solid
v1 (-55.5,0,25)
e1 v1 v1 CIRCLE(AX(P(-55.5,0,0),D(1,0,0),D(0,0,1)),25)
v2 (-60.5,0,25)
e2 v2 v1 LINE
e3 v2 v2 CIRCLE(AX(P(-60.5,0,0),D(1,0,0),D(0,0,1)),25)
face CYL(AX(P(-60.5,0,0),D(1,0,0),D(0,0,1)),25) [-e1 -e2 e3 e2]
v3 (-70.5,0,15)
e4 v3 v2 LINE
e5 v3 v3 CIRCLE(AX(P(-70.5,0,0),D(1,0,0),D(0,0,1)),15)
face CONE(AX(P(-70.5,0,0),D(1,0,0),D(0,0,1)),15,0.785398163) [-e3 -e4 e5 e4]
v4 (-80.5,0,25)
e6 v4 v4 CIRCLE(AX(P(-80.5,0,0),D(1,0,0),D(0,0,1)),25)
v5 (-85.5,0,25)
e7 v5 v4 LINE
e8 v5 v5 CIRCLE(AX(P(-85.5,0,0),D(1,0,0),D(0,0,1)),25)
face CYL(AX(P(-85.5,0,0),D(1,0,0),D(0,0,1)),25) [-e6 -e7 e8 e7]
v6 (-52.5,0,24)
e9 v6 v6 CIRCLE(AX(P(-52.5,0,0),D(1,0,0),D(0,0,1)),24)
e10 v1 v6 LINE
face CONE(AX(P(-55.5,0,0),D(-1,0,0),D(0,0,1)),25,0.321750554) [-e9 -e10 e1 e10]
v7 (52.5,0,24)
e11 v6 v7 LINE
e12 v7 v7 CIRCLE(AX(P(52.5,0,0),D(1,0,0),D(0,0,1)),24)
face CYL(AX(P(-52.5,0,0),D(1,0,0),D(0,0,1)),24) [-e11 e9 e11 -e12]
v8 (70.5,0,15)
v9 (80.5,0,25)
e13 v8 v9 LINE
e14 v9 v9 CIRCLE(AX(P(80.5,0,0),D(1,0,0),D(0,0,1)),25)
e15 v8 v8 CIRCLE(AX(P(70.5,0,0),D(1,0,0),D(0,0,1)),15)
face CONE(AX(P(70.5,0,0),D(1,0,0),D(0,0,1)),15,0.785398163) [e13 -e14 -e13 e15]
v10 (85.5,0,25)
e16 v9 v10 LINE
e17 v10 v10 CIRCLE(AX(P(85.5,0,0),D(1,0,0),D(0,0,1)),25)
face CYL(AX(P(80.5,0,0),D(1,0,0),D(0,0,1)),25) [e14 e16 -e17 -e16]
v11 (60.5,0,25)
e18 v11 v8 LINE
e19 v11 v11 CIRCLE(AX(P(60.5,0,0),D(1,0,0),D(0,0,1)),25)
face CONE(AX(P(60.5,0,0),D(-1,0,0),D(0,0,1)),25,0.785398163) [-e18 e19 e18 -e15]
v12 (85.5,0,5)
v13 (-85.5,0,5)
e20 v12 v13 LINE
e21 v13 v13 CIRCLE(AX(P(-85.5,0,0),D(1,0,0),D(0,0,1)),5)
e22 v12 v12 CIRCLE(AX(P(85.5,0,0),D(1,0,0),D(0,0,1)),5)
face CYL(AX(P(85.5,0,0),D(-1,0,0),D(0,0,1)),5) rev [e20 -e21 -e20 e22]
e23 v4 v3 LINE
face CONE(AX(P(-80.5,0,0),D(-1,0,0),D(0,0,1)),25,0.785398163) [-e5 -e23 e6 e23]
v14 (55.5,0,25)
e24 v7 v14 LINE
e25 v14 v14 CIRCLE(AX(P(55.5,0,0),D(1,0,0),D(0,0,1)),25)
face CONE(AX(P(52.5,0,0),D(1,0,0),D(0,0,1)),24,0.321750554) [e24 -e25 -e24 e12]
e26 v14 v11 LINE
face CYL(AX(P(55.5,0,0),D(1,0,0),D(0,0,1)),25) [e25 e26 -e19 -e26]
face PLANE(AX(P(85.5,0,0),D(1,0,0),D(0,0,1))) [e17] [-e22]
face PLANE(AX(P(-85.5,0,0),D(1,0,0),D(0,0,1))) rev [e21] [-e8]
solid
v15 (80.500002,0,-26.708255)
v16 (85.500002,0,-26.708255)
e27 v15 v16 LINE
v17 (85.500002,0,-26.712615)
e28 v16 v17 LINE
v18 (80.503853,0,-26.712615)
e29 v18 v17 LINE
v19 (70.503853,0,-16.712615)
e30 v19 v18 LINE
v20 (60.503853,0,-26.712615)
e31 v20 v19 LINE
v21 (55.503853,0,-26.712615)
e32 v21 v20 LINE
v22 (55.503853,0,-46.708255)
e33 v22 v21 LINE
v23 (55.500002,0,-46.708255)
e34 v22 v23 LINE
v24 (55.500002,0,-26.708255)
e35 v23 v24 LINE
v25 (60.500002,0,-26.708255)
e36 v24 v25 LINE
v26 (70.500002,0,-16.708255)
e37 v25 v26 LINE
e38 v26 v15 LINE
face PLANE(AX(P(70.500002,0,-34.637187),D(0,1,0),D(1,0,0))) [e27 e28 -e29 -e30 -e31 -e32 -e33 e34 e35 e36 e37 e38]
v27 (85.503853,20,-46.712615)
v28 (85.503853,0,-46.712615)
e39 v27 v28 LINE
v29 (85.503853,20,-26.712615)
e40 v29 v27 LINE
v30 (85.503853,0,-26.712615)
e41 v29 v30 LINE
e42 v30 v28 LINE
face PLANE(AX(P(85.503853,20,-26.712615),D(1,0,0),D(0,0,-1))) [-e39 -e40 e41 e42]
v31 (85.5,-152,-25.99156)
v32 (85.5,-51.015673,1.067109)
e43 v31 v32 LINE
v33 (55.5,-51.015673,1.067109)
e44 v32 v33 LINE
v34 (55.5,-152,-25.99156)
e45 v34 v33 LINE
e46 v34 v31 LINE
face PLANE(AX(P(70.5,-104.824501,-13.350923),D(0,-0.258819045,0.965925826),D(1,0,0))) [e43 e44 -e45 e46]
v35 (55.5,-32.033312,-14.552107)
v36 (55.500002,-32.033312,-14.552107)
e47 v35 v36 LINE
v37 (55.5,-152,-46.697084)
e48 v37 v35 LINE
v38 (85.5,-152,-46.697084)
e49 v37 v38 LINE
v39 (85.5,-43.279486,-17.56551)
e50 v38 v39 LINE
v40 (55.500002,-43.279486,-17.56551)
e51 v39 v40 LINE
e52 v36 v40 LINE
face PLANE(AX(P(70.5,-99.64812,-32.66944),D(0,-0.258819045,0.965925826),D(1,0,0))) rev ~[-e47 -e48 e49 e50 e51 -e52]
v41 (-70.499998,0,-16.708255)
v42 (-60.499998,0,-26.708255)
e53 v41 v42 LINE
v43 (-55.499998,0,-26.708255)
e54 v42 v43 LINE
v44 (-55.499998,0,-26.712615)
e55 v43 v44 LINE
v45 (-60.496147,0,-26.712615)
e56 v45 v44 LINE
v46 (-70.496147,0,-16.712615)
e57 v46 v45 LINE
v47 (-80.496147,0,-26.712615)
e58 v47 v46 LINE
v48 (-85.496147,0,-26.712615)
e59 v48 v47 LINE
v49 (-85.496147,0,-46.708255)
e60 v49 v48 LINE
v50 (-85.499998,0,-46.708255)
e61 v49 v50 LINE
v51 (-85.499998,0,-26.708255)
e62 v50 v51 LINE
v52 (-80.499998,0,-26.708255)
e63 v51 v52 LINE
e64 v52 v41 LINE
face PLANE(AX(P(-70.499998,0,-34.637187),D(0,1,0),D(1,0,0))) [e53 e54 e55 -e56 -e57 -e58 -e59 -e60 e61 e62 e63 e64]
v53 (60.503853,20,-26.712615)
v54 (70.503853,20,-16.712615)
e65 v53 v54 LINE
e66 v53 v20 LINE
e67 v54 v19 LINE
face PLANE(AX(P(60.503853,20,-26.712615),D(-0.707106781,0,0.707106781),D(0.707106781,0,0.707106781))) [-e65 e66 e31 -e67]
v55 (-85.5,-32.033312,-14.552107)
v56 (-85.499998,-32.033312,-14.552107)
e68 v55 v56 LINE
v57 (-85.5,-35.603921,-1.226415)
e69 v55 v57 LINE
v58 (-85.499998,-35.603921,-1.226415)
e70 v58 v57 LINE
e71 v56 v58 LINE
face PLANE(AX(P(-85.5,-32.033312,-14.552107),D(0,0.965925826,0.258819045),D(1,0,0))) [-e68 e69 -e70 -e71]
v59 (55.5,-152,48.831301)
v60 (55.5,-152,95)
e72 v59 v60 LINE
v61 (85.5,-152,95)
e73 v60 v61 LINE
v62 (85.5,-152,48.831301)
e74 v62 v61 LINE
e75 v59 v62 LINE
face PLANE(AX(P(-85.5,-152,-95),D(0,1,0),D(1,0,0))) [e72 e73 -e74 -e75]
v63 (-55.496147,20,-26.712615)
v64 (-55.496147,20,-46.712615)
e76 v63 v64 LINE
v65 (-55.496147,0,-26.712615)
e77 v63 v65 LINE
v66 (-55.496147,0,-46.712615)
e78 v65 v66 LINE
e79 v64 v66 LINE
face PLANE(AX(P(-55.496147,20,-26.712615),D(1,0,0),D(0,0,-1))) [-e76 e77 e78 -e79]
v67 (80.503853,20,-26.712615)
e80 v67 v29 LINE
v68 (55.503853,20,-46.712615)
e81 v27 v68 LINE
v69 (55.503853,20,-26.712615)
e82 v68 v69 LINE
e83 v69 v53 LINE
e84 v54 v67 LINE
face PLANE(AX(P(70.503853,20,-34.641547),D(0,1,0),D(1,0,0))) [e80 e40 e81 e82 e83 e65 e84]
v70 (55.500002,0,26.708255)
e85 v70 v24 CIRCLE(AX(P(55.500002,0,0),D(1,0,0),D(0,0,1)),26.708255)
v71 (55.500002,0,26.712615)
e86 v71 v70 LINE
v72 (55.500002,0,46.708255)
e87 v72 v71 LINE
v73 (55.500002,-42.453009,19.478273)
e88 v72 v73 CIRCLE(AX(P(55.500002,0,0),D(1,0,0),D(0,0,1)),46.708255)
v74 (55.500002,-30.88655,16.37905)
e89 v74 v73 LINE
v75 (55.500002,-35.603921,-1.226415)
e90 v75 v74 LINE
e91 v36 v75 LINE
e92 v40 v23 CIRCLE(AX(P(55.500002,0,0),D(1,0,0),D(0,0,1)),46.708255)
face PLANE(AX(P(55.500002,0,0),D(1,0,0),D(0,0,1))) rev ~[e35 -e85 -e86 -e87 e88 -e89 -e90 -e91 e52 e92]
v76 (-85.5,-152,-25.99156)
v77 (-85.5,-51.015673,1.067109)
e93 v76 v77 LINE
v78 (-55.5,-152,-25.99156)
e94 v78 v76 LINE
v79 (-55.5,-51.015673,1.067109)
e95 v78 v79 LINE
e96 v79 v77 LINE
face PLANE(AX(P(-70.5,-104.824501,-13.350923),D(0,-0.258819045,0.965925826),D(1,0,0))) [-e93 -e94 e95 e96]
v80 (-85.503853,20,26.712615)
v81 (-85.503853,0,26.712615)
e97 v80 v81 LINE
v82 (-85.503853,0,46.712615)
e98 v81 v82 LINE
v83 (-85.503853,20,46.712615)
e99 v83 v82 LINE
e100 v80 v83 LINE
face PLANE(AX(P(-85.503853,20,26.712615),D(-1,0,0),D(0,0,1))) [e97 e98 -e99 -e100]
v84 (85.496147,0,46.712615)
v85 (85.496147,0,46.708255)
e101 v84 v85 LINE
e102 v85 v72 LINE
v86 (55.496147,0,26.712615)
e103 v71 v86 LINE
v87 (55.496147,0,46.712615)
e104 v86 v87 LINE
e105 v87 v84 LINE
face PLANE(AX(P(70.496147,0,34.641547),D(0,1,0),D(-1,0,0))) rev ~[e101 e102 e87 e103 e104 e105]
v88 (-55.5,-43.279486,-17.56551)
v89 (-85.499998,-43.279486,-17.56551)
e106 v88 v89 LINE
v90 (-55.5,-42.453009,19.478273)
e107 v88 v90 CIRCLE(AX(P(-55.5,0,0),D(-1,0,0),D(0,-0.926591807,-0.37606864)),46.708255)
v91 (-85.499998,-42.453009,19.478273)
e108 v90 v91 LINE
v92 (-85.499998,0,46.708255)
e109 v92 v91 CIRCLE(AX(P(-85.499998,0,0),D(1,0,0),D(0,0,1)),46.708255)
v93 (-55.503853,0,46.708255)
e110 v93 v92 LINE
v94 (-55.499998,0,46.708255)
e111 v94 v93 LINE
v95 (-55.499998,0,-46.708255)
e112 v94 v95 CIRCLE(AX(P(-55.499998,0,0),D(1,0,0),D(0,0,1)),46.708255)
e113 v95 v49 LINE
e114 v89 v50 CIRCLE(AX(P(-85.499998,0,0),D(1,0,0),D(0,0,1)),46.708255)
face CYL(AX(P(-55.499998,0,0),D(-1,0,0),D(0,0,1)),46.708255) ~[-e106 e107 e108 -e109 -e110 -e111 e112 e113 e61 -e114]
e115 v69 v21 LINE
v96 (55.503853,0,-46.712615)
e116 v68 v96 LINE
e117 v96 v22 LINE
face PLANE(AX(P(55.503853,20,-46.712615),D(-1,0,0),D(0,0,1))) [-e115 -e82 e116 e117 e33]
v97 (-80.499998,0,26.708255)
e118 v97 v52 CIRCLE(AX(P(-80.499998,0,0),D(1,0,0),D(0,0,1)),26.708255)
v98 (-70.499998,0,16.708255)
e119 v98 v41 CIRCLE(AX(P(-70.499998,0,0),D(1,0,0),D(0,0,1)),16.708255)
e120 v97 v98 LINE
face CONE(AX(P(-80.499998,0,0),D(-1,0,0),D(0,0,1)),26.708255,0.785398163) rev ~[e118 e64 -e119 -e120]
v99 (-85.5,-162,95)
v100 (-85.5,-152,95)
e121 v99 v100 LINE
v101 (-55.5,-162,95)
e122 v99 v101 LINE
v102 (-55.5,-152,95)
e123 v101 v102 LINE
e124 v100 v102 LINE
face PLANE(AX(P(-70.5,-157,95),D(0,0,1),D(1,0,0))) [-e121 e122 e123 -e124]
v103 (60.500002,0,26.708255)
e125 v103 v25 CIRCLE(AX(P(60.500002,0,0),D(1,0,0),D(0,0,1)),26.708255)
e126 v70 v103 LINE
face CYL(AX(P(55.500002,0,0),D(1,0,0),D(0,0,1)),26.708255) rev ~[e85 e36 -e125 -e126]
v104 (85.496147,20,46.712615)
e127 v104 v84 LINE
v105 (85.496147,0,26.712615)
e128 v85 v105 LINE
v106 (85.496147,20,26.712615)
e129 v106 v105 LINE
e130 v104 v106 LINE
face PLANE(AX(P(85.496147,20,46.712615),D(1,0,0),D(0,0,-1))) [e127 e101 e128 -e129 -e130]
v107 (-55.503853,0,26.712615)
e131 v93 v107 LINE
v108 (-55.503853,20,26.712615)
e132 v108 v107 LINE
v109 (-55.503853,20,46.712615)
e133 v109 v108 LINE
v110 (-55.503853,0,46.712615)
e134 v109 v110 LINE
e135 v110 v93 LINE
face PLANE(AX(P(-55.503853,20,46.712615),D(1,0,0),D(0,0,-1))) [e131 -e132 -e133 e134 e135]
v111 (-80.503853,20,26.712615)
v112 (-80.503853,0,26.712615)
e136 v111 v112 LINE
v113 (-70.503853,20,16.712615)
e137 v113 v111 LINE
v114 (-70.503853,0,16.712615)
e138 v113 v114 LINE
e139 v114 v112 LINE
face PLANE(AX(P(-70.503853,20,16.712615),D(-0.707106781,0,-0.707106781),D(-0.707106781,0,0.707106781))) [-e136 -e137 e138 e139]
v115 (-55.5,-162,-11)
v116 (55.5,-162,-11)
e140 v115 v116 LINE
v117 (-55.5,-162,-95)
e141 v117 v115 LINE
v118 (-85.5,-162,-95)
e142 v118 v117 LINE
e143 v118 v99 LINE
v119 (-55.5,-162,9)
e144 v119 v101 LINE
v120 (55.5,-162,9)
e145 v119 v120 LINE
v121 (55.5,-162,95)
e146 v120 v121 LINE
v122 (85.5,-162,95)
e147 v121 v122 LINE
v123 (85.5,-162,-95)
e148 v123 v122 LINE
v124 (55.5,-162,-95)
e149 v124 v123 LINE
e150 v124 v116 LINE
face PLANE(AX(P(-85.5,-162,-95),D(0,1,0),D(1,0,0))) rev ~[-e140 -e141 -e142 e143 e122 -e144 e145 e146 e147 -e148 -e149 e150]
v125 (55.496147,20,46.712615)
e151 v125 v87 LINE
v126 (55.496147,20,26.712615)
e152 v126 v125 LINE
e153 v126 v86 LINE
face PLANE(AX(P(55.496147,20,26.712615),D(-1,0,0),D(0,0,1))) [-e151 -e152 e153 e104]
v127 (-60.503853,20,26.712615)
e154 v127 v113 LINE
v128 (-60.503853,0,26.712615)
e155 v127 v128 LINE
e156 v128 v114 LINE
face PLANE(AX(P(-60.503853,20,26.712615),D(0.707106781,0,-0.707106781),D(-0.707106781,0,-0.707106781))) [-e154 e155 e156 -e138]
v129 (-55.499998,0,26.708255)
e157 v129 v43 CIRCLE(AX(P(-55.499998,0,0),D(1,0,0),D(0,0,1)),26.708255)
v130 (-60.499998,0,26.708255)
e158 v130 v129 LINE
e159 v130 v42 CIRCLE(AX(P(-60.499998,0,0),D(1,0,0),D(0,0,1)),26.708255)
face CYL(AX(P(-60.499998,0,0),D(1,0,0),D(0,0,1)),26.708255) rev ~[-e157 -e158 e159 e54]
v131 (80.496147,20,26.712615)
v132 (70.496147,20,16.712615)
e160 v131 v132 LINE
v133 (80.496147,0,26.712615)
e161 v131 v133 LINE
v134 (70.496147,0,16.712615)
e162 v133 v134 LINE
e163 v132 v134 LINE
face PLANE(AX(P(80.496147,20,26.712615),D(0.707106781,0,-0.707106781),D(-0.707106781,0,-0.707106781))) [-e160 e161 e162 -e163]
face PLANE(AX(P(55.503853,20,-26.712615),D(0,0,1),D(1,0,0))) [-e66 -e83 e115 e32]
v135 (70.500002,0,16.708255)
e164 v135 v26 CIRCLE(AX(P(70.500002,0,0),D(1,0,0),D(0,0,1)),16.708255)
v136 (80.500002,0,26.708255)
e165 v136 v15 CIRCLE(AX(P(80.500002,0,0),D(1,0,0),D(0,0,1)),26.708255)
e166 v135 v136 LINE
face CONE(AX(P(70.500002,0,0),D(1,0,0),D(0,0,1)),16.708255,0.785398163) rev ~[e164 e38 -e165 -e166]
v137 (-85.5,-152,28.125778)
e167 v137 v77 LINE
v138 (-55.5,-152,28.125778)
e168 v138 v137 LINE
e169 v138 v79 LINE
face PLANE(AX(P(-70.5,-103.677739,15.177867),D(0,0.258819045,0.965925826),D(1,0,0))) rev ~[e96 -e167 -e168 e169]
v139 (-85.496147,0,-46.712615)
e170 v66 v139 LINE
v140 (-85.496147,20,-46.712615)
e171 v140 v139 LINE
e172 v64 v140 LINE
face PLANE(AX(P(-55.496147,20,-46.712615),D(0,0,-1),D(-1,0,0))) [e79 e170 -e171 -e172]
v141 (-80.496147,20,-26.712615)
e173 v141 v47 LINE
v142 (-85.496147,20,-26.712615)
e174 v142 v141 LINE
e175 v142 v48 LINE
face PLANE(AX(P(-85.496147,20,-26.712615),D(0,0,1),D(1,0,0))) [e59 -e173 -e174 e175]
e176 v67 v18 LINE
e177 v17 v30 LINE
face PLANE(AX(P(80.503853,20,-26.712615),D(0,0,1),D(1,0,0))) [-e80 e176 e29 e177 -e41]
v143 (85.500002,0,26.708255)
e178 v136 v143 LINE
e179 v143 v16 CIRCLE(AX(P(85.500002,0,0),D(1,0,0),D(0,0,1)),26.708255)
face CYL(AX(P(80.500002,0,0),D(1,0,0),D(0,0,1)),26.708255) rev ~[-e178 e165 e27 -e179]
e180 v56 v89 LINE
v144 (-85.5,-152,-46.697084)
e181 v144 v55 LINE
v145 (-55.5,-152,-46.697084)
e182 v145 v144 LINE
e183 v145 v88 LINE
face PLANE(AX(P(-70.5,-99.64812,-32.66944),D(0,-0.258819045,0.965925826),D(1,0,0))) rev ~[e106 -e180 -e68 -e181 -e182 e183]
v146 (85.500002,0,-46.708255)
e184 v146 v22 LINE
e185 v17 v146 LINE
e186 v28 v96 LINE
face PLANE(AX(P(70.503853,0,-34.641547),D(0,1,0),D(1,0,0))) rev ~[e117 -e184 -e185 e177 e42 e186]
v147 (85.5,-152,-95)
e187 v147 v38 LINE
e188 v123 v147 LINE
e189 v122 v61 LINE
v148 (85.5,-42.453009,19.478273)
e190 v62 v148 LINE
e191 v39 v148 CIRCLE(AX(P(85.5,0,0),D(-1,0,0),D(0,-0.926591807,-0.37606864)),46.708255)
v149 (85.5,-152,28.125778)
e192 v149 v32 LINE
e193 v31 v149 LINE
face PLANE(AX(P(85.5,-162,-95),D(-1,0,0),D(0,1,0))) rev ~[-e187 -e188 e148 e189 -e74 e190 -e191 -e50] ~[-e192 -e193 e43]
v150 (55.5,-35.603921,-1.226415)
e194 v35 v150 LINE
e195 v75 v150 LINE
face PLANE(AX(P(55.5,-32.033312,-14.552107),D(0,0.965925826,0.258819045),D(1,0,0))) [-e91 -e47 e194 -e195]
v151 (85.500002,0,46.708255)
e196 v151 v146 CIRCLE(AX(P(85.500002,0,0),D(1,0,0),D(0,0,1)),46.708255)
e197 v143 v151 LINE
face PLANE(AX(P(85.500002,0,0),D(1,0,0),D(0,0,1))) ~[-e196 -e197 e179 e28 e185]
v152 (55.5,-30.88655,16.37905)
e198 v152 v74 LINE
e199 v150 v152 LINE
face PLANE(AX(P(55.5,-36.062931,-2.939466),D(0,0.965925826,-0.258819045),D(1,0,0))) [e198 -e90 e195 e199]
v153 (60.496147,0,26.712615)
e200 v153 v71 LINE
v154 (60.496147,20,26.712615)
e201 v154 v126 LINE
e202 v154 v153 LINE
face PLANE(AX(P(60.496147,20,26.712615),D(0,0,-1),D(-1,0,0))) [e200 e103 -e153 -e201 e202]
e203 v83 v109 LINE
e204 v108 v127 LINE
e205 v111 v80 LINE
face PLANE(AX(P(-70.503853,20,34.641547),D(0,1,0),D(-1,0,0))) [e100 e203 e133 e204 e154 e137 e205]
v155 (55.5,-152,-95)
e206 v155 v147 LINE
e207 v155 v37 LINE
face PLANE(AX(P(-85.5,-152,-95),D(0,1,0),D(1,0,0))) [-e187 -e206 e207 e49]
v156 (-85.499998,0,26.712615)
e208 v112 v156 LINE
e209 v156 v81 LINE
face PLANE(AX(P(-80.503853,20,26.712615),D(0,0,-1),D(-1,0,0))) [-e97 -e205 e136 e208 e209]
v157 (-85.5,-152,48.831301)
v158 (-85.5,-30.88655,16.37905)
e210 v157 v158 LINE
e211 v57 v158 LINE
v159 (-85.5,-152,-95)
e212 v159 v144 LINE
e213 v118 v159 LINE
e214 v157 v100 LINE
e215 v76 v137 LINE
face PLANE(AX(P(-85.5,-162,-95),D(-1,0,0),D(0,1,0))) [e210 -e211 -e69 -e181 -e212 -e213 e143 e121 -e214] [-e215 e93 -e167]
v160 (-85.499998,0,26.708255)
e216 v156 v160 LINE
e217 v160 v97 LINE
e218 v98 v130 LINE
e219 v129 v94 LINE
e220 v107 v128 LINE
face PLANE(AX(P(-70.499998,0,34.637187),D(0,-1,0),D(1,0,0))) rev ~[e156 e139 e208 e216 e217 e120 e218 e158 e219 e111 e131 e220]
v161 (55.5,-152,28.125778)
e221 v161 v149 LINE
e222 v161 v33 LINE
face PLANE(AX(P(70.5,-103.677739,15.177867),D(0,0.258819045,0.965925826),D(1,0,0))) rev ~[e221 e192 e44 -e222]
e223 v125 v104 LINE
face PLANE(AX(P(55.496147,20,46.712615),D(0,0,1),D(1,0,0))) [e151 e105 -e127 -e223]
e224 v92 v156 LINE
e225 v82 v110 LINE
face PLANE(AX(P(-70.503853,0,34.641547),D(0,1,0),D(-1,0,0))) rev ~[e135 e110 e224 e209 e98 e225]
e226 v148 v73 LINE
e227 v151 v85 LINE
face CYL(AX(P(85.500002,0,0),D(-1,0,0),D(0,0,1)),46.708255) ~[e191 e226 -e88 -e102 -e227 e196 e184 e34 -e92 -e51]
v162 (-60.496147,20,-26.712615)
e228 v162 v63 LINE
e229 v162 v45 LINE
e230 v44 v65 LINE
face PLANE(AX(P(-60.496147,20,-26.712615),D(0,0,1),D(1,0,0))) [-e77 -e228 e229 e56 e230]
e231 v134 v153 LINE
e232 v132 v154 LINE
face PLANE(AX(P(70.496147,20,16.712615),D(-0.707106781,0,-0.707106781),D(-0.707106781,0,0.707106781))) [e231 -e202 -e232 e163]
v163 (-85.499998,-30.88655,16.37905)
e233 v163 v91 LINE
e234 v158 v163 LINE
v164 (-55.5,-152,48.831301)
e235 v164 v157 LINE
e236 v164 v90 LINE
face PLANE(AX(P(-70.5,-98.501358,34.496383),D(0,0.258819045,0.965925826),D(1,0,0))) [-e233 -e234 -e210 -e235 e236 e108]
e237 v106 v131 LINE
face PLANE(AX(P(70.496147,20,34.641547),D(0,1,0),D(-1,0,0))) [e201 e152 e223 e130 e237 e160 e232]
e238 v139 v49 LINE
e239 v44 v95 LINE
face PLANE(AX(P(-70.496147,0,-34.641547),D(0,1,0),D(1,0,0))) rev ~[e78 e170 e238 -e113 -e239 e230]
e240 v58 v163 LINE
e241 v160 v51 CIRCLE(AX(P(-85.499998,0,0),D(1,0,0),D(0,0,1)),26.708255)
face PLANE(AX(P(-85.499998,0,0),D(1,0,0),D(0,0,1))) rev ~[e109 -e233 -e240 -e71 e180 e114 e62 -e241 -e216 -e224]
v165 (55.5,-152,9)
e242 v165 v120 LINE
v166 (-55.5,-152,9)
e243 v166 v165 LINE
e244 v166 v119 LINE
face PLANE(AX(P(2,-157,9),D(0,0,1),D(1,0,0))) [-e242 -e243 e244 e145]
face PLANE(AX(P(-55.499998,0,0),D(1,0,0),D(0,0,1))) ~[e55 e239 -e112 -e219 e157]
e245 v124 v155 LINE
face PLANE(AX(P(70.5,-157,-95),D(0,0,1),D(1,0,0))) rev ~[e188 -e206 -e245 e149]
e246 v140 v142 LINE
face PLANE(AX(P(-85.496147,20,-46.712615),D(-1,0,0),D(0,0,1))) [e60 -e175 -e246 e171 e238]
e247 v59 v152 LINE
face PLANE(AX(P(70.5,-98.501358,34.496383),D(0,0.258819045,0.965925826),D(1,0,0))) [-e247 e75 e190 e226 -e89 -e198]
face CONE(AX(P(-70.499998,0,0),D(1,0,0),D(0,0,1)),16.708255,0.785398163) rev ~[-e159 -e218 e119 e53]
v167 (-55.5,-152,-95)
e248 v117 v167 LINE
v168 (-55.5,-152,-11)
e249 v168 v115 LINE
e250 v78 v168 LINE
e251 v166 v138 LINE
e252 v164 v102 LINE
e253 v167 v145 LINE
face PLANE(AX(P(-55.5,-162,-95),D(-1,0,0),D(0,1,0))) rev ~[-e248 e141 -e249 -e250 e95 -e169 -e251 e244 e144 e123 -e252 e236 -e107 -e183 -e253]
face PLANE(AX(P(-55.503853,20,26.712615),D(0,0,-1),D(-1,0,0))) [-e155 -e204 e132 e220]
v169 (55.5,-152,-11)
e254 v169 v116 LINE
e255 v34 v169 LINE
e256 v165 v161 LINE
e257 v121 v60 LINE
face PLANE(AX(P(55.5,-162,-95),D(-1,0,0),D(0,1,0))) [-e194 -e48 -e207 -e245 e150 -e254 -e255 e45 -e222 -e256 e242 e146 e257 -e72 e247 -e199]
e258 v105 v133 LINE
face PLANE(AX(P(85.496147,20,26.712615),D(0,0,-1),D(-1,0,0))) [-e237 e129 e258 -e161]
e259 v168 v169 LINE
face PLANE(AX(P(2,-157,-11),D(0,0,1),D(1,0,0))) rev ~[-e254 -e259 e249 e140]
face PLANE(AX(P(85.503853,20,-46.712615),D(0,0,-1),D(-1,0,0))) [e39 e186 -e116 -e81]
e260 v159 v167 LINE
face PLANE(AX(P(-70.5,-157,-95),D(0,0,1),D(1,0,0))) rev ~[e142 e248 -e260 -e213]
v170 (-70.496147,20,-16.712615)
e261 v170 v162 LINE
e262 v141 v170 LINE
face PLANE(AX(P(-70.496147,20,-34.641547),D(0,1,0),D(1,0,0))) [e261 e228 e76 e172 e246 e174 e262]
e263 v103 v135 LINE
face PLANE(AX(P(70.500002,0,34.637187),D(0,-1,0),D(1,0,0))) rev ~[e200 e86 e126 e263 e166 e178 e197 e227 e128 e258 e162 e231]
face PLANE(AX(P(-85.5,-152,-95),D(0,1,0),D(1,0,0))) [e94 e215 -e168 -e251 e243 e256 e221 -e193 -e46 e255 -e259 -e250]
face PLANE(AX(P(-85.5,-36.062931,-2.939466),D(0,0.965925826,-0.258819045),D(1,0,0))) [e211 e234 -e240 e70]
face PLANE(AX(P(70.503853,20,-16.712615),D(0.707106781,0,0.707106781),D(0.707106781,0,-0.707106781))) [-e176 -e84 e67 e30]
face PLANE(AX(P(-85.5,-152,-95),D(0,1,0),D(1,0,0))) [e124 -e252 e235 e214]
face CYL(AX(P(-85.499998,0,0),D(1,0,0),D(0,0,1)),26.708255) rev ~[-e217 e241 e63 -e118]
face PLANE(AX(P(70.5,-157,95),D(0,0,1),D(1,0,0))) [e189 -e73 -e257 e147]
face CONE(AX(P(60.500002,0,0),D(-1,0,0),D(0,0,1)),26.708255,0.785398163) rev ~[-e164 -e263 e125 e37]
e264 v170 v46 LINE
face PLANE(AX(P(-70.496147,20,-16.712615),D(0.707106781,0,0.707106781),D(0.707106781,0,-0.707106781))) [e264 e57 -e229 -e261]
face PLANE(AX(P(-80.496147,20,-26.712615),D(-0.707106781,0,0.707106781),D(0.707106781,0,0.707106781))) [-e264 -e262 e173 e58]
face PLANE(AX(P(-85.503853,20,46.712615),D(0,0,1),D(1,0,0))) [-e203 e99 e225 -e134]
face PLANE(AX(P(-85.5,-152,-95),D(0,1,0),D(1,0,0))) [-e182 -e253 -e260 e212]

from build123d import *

# Parameters (mm, degrees)
BOX009_W                = 30
BOX009_H                = 10
BOX009_DEPTH            = 190
BOX004_W                = 30
BOX004_H                = 10
BOX004_DEPTH            = 190
BOX011_W                = 130
BOX011_H                = 10
BOX011_DEPTH            = 20
BOX018_W                = 40
BOX018_H                = 20
BOX018_DEPTH            = 220
BOX017_W                = 30
BOX017_H                = 140
BOX017_DEPTH            = 20
BOX017_PLACEMENT_ANGLE  = 15
BOX016_W                = 30
BOX016_H                = 140
BOX016_DEPTH            = 20
BOX016_PLACEMENT_ANGLE  = 15
PAD006_DEPTH            = 20
BODY011_PLACEMENT_ANGLE = 180
REVOLUTION004_ANGLE     = 180
PAD007_DEPTH            = 20
BOX015_W                = 40
BOX015_H                = 20
BOX015_DEPTH            = 220
BOX014_W                = 30
BOX014_H                = 140
BOX014_DEPTH            = 20
BOX014_PLACEMENT_ANGLE  = 15
BOX013_W                = 30
BOX013_H                = 140
BOX013_DEPTH            = 20
BOX013_PLACEMENT_ANGLE  = 15
PAD004_DEPTH            = 20
BODY008_PLACEMENT_ANGLE = 180
REVOLUTION003_ANGLE     = 180
PAD005_DEPTH            = 20


with BuildPart() as inner:
    # Sketch → Revolution (revolve)
    with BuildSketch(Plane.XZ):
        Polygon((-52.5, 24), (52.5, 24), (55.5, 25), (60.5, 25), (70.5, 15), (80.5, 25), (85.5, 25), (85.5, 5), (-85.5, 5), (-85.5, 25), (-80.5, 25), (-70.5, 15), (-60.5, 25), (-55.5, 25), align=None)
    revolve(axis=Axis((0, 0, 0), (1, 0, 0)))


with BuildPart() as cube009:
    # Box009 → Box009 (new body)
    with BuildSketch(Plane(origin=(55.5, -173, -95), x_dir=(1, 0, 0), z_dir=(0, 0, 1))):
        with Locations((15, 5)):
            Rectangle(BOX009_W, BOX009_H)
    extrude(amount=BOX009_DEPTH)


with BuildPart() as cube004:
    # Box004 → Box004 (new body)
    with BuildSketch(Plane(origin=(-85.5, -173, -95), x_dir=(1, 0, 0), z_dir=(0, 0, 1))):
        with Locations((15, 5)):
            Rectangle(BOX004_W, BOX004_H)
    extrude(amount=BOX004_DEPTH)


with BuildPart() as fusion:
    # Box011 → Box011 (new body)
    with BuildSketch(Plane(origin=(-63, -173, -11), x_dir=(1, 0, 0), z_dir=(0, 0, 1))):
        with Locations((65, 5)):
            Rectangle(BOX011_W, BOX011_H)
    extrude(amount=BOX011_DEPTH)

    # Fusion: union Cube009, Cube004
    add(cube009.part)
    add(cube004.part)


with BuildPart() as fusion_1:
    # Fusion placement: moved
    add(fusion.part.moved(Location((0, 11, 0))))


with BuildPart() as cube018:
    # Box018 → Box018 (new body)
    with BuildSketch(Plane(origin=(-94, -173, -109), x_dir=(1, 0, 0), z_dir=(0, 0, 1))):
        with Locations((20, 10)):
            Rectangle(BOX018_W, BOX018_H)
    extrude(amount=BOX018_DEPTH)


with BuildPart() as cube017:
    # Box017 → Box017 (new body)
    with BuildSketch(Plane.XY):
        with Locations((15, 70)):
            Rectangle(BOX017_W, BOX017_H)
    extrude(amount=BOX017_DEPTH)


with BuildPart() as cube017_1:
    # Box017 placement: moved
    add(cube017.part.moved(Location((-85.5, -167.262928, -50.786773))).rotate(Axis((-85.5, -167.262928, -50.786773), (1, 0, 0)), BOX017_PLACEMENT_ANGLE))


with BuildPart() as cube016:
    # Box016 → Box016 (new body)
    with BuildSketch(Plane.XY):
        with Locations((15, 70)):
            Rectangle(BOX016_W, BOX016_H)
    extrude(amount=BOX016_DEPTH)


with BuildPart() as cube016_1:
    # Box016 placement: moved
    add(cube016.part.moved(Location((-85.5, -171.292547, 33.2952))).rotate(Axis((-85.5, -171.292547, 33.2952), (-1, 0, 0)), BOX016_PLACEMENT_ANGLE))


with BuildPart() as body011:
    # Sketch011 → Pad006 (new body)
    with BuildSketch(Plane.XZ):
        Polygon((-160.153853, 40.532615), (-130.153853, 40.532615), (-130.153853, 20.532615), (-135.153853, 20.532615), (-145.153853, 10.532615), (-155.153853, 20.532615), (-160.153853, 20.532615), align=None)
    extrude(amount=PAD006_DEPTH)


with BuildPart() as body011_1:
    # Body011 placement: moved
    add(body011.part.moved(Location((-215.65, 20, -6.18))).rotate(Axis((-215.65, 20, -6.18), (0, 1, 0)), BODY011_PLACEMENT_ANGLE))


with BuildPart() as fusion017:
    # Sketch010 → Revolution004 (revolve)
    with BuildSketch(Plane.XZ):
        Polygon((-85.499998, 26.708255), (-80.499998, 26.708255), (-70.499998, 16.708255), (-60.499998, 26.708255), (-55.499998, 26.708255), (-55.499998, 46.708255), (-85.499998, 46.708255), align=None)
    revolve(axis=Axis((0, 0, 0), (1, 0, 0)), revolution_arc=REVOLUTION004_ANGLE)

    # Fusion017: union Body011
    add(body011_1.part)


with BuildPart() as cut002:
    # Sketch012 → Pad007 (new body)
    with BuildSketch(Plane.XZ):
        Polygon((-160.153853, 40.532615), (-130.153853, 40.532615), (-130.153853, 20.532615), (-135.153853, 20.532615), (-145.153853, 10.532615), (-155.153853, 20.532615), (-160.153853, 20.532615), align=None)
    extrude(amount=PAD007_DEPTH)


with BuildPart() as cut002_1:
    # Body012 placement: moved
    add(cut002.part.moved(Location((74.65, 20, 6.18))))

    # Fusion018: union Fusion017
    add(fusion017.part)

    # Fusion019: union Cube017, Cube016
    add(cube017_1.part)
    add(cube016_1.part)

    # Cut002: cut Cube018
    add(cube018.part, mode=Mode.SUBTRACT)


with BuildPart() as cut002_2:
    # Cut002 placement: moved
    add(cut002_1.part.moved(Location((141, 0, 0))))


with BuildPart() as cube015:
    # Box015 → Box015 (new body)
    with BuildSketch(Plane(origin=(-94, -173, -109), x_dir=(1, 0, 0), z_dir=(0, 0, 1))):
        with Locations((20, 10)):
            Rectangle(BOX015_W, BOX015_H)
    extrude(amount=BOX015_DEPTH)


with BuildPart() as cube014:
    # Box014 → Box014 (new body)
    with BuildSketch(Plane.XY):
        with Locations((15, 70)):
            Rectangle(BOX014_W, BOX014_H)
    extrude(amount=BOX014_DEPTH)


with BuildPart() as cube014_1:
    # Box014 placement: moved
    add(cube014.part.moved(Location((-85.5, -167.262928, -50.786773))).rotate(Axis((-85.5, -167.262928, -50.786773), (1, 0, 0)), BOX014_PLACEMENT_ANGLE))


with BuildPart() as cube013:
    # Box013 → Box013 (new body)
    with BuildSketch(Plane.XY):
        with Locations((15, 70)):
            Rectangle(BOX013_W, BOX013_H)
    extrude(amount=BOX013_DEPTH)


with BuildPart() as cube013_1:
    # Box013 placement: moved
    add(cube013.part.moved(Location((-85.5, -171.292547, 33.2952))).rotate(Axis((-85.5, -171.292547, 33.2952), (-1, 0, 0)), BOX013_PLACEMENT_ANGLE))


with BuildPart() as body008:
    # Sketch008 → Pad004 (new body)
    with BuildSketch(Plane.XZ):
        Polygon((-160.153853, 40.532615), (-130.153853, 40.532615), (-130.153853, 20.532615), (-135.153853, 20.532615), (-145.153853, 10.532615), (-155.153853, 20.532615), (-160.153853, 20.532615), align=None)
    extrude(amount=PAD004_DEPTH)


with BuildPart() as body008_1:
    # Body008 placement: moved
    add(body008.part.moved(Location((-215.65, 20, -6.18))).rotate(Axis((-215.65, 20, -6.18), (0, 1, 0)), BODY008_PLACEMENT_ANGLE))


with BuildPart() as fusion010:
    # Sketch007 → Revolution003 (revolve)
    with BuildSketch(Plane.XZ):
        Polygon((-85.499998, 26.708255), (-80.499998, 26.708255), (-70.499998, 16.708255), (-60.499998, 26.708255), (-55.499998, 26.708255), (-55.499998, 46.708255), (-85.499998, 46.708255), align=None)
    revolve(axis=Axis((0, 0, 0), (1, 0, 0)), revolution_arc=REVOLUTION003_ANGLE)

    # Fusion010: union Body008
    add(body008_1.part)


with BuildPart() as fusion020:
    # Sketch009 → Pad005 (new body)
    with BuildSketch(Plane.XZ):
        Polygon((-160.153853, 40.532615), (-130.153853, 40.532615), (-130.153853, 20.532615), (-135.153853, 20.532615), (-145.153853, 10.532615), (-155.153853, 20.532615), (-160.153853, 20.532615), align=None)
    extrude(amount=PAD005_DEPTH)


with BuildPart() as fusion020_1:
    # Body009 placement: moved
    add(fusion020.part.moved(Location((74.65, 20, 6.18))))

    # Fusion011: union Fusion010
    add(fusion010.part)

    # Fusion016: union Cube014, Cube013
    add(cube014_1.part)
    add(cube013_1.part)

    # Cut001: cut Cube015
    add(cube015.part, mode=Mode.SUBTRACT)

    # Fusion020: union Fusion, Cut002
    add(fusion_1.part)
    add(cut002_2.part)


solid = Compound([inner.part, fusion020_1.part])
